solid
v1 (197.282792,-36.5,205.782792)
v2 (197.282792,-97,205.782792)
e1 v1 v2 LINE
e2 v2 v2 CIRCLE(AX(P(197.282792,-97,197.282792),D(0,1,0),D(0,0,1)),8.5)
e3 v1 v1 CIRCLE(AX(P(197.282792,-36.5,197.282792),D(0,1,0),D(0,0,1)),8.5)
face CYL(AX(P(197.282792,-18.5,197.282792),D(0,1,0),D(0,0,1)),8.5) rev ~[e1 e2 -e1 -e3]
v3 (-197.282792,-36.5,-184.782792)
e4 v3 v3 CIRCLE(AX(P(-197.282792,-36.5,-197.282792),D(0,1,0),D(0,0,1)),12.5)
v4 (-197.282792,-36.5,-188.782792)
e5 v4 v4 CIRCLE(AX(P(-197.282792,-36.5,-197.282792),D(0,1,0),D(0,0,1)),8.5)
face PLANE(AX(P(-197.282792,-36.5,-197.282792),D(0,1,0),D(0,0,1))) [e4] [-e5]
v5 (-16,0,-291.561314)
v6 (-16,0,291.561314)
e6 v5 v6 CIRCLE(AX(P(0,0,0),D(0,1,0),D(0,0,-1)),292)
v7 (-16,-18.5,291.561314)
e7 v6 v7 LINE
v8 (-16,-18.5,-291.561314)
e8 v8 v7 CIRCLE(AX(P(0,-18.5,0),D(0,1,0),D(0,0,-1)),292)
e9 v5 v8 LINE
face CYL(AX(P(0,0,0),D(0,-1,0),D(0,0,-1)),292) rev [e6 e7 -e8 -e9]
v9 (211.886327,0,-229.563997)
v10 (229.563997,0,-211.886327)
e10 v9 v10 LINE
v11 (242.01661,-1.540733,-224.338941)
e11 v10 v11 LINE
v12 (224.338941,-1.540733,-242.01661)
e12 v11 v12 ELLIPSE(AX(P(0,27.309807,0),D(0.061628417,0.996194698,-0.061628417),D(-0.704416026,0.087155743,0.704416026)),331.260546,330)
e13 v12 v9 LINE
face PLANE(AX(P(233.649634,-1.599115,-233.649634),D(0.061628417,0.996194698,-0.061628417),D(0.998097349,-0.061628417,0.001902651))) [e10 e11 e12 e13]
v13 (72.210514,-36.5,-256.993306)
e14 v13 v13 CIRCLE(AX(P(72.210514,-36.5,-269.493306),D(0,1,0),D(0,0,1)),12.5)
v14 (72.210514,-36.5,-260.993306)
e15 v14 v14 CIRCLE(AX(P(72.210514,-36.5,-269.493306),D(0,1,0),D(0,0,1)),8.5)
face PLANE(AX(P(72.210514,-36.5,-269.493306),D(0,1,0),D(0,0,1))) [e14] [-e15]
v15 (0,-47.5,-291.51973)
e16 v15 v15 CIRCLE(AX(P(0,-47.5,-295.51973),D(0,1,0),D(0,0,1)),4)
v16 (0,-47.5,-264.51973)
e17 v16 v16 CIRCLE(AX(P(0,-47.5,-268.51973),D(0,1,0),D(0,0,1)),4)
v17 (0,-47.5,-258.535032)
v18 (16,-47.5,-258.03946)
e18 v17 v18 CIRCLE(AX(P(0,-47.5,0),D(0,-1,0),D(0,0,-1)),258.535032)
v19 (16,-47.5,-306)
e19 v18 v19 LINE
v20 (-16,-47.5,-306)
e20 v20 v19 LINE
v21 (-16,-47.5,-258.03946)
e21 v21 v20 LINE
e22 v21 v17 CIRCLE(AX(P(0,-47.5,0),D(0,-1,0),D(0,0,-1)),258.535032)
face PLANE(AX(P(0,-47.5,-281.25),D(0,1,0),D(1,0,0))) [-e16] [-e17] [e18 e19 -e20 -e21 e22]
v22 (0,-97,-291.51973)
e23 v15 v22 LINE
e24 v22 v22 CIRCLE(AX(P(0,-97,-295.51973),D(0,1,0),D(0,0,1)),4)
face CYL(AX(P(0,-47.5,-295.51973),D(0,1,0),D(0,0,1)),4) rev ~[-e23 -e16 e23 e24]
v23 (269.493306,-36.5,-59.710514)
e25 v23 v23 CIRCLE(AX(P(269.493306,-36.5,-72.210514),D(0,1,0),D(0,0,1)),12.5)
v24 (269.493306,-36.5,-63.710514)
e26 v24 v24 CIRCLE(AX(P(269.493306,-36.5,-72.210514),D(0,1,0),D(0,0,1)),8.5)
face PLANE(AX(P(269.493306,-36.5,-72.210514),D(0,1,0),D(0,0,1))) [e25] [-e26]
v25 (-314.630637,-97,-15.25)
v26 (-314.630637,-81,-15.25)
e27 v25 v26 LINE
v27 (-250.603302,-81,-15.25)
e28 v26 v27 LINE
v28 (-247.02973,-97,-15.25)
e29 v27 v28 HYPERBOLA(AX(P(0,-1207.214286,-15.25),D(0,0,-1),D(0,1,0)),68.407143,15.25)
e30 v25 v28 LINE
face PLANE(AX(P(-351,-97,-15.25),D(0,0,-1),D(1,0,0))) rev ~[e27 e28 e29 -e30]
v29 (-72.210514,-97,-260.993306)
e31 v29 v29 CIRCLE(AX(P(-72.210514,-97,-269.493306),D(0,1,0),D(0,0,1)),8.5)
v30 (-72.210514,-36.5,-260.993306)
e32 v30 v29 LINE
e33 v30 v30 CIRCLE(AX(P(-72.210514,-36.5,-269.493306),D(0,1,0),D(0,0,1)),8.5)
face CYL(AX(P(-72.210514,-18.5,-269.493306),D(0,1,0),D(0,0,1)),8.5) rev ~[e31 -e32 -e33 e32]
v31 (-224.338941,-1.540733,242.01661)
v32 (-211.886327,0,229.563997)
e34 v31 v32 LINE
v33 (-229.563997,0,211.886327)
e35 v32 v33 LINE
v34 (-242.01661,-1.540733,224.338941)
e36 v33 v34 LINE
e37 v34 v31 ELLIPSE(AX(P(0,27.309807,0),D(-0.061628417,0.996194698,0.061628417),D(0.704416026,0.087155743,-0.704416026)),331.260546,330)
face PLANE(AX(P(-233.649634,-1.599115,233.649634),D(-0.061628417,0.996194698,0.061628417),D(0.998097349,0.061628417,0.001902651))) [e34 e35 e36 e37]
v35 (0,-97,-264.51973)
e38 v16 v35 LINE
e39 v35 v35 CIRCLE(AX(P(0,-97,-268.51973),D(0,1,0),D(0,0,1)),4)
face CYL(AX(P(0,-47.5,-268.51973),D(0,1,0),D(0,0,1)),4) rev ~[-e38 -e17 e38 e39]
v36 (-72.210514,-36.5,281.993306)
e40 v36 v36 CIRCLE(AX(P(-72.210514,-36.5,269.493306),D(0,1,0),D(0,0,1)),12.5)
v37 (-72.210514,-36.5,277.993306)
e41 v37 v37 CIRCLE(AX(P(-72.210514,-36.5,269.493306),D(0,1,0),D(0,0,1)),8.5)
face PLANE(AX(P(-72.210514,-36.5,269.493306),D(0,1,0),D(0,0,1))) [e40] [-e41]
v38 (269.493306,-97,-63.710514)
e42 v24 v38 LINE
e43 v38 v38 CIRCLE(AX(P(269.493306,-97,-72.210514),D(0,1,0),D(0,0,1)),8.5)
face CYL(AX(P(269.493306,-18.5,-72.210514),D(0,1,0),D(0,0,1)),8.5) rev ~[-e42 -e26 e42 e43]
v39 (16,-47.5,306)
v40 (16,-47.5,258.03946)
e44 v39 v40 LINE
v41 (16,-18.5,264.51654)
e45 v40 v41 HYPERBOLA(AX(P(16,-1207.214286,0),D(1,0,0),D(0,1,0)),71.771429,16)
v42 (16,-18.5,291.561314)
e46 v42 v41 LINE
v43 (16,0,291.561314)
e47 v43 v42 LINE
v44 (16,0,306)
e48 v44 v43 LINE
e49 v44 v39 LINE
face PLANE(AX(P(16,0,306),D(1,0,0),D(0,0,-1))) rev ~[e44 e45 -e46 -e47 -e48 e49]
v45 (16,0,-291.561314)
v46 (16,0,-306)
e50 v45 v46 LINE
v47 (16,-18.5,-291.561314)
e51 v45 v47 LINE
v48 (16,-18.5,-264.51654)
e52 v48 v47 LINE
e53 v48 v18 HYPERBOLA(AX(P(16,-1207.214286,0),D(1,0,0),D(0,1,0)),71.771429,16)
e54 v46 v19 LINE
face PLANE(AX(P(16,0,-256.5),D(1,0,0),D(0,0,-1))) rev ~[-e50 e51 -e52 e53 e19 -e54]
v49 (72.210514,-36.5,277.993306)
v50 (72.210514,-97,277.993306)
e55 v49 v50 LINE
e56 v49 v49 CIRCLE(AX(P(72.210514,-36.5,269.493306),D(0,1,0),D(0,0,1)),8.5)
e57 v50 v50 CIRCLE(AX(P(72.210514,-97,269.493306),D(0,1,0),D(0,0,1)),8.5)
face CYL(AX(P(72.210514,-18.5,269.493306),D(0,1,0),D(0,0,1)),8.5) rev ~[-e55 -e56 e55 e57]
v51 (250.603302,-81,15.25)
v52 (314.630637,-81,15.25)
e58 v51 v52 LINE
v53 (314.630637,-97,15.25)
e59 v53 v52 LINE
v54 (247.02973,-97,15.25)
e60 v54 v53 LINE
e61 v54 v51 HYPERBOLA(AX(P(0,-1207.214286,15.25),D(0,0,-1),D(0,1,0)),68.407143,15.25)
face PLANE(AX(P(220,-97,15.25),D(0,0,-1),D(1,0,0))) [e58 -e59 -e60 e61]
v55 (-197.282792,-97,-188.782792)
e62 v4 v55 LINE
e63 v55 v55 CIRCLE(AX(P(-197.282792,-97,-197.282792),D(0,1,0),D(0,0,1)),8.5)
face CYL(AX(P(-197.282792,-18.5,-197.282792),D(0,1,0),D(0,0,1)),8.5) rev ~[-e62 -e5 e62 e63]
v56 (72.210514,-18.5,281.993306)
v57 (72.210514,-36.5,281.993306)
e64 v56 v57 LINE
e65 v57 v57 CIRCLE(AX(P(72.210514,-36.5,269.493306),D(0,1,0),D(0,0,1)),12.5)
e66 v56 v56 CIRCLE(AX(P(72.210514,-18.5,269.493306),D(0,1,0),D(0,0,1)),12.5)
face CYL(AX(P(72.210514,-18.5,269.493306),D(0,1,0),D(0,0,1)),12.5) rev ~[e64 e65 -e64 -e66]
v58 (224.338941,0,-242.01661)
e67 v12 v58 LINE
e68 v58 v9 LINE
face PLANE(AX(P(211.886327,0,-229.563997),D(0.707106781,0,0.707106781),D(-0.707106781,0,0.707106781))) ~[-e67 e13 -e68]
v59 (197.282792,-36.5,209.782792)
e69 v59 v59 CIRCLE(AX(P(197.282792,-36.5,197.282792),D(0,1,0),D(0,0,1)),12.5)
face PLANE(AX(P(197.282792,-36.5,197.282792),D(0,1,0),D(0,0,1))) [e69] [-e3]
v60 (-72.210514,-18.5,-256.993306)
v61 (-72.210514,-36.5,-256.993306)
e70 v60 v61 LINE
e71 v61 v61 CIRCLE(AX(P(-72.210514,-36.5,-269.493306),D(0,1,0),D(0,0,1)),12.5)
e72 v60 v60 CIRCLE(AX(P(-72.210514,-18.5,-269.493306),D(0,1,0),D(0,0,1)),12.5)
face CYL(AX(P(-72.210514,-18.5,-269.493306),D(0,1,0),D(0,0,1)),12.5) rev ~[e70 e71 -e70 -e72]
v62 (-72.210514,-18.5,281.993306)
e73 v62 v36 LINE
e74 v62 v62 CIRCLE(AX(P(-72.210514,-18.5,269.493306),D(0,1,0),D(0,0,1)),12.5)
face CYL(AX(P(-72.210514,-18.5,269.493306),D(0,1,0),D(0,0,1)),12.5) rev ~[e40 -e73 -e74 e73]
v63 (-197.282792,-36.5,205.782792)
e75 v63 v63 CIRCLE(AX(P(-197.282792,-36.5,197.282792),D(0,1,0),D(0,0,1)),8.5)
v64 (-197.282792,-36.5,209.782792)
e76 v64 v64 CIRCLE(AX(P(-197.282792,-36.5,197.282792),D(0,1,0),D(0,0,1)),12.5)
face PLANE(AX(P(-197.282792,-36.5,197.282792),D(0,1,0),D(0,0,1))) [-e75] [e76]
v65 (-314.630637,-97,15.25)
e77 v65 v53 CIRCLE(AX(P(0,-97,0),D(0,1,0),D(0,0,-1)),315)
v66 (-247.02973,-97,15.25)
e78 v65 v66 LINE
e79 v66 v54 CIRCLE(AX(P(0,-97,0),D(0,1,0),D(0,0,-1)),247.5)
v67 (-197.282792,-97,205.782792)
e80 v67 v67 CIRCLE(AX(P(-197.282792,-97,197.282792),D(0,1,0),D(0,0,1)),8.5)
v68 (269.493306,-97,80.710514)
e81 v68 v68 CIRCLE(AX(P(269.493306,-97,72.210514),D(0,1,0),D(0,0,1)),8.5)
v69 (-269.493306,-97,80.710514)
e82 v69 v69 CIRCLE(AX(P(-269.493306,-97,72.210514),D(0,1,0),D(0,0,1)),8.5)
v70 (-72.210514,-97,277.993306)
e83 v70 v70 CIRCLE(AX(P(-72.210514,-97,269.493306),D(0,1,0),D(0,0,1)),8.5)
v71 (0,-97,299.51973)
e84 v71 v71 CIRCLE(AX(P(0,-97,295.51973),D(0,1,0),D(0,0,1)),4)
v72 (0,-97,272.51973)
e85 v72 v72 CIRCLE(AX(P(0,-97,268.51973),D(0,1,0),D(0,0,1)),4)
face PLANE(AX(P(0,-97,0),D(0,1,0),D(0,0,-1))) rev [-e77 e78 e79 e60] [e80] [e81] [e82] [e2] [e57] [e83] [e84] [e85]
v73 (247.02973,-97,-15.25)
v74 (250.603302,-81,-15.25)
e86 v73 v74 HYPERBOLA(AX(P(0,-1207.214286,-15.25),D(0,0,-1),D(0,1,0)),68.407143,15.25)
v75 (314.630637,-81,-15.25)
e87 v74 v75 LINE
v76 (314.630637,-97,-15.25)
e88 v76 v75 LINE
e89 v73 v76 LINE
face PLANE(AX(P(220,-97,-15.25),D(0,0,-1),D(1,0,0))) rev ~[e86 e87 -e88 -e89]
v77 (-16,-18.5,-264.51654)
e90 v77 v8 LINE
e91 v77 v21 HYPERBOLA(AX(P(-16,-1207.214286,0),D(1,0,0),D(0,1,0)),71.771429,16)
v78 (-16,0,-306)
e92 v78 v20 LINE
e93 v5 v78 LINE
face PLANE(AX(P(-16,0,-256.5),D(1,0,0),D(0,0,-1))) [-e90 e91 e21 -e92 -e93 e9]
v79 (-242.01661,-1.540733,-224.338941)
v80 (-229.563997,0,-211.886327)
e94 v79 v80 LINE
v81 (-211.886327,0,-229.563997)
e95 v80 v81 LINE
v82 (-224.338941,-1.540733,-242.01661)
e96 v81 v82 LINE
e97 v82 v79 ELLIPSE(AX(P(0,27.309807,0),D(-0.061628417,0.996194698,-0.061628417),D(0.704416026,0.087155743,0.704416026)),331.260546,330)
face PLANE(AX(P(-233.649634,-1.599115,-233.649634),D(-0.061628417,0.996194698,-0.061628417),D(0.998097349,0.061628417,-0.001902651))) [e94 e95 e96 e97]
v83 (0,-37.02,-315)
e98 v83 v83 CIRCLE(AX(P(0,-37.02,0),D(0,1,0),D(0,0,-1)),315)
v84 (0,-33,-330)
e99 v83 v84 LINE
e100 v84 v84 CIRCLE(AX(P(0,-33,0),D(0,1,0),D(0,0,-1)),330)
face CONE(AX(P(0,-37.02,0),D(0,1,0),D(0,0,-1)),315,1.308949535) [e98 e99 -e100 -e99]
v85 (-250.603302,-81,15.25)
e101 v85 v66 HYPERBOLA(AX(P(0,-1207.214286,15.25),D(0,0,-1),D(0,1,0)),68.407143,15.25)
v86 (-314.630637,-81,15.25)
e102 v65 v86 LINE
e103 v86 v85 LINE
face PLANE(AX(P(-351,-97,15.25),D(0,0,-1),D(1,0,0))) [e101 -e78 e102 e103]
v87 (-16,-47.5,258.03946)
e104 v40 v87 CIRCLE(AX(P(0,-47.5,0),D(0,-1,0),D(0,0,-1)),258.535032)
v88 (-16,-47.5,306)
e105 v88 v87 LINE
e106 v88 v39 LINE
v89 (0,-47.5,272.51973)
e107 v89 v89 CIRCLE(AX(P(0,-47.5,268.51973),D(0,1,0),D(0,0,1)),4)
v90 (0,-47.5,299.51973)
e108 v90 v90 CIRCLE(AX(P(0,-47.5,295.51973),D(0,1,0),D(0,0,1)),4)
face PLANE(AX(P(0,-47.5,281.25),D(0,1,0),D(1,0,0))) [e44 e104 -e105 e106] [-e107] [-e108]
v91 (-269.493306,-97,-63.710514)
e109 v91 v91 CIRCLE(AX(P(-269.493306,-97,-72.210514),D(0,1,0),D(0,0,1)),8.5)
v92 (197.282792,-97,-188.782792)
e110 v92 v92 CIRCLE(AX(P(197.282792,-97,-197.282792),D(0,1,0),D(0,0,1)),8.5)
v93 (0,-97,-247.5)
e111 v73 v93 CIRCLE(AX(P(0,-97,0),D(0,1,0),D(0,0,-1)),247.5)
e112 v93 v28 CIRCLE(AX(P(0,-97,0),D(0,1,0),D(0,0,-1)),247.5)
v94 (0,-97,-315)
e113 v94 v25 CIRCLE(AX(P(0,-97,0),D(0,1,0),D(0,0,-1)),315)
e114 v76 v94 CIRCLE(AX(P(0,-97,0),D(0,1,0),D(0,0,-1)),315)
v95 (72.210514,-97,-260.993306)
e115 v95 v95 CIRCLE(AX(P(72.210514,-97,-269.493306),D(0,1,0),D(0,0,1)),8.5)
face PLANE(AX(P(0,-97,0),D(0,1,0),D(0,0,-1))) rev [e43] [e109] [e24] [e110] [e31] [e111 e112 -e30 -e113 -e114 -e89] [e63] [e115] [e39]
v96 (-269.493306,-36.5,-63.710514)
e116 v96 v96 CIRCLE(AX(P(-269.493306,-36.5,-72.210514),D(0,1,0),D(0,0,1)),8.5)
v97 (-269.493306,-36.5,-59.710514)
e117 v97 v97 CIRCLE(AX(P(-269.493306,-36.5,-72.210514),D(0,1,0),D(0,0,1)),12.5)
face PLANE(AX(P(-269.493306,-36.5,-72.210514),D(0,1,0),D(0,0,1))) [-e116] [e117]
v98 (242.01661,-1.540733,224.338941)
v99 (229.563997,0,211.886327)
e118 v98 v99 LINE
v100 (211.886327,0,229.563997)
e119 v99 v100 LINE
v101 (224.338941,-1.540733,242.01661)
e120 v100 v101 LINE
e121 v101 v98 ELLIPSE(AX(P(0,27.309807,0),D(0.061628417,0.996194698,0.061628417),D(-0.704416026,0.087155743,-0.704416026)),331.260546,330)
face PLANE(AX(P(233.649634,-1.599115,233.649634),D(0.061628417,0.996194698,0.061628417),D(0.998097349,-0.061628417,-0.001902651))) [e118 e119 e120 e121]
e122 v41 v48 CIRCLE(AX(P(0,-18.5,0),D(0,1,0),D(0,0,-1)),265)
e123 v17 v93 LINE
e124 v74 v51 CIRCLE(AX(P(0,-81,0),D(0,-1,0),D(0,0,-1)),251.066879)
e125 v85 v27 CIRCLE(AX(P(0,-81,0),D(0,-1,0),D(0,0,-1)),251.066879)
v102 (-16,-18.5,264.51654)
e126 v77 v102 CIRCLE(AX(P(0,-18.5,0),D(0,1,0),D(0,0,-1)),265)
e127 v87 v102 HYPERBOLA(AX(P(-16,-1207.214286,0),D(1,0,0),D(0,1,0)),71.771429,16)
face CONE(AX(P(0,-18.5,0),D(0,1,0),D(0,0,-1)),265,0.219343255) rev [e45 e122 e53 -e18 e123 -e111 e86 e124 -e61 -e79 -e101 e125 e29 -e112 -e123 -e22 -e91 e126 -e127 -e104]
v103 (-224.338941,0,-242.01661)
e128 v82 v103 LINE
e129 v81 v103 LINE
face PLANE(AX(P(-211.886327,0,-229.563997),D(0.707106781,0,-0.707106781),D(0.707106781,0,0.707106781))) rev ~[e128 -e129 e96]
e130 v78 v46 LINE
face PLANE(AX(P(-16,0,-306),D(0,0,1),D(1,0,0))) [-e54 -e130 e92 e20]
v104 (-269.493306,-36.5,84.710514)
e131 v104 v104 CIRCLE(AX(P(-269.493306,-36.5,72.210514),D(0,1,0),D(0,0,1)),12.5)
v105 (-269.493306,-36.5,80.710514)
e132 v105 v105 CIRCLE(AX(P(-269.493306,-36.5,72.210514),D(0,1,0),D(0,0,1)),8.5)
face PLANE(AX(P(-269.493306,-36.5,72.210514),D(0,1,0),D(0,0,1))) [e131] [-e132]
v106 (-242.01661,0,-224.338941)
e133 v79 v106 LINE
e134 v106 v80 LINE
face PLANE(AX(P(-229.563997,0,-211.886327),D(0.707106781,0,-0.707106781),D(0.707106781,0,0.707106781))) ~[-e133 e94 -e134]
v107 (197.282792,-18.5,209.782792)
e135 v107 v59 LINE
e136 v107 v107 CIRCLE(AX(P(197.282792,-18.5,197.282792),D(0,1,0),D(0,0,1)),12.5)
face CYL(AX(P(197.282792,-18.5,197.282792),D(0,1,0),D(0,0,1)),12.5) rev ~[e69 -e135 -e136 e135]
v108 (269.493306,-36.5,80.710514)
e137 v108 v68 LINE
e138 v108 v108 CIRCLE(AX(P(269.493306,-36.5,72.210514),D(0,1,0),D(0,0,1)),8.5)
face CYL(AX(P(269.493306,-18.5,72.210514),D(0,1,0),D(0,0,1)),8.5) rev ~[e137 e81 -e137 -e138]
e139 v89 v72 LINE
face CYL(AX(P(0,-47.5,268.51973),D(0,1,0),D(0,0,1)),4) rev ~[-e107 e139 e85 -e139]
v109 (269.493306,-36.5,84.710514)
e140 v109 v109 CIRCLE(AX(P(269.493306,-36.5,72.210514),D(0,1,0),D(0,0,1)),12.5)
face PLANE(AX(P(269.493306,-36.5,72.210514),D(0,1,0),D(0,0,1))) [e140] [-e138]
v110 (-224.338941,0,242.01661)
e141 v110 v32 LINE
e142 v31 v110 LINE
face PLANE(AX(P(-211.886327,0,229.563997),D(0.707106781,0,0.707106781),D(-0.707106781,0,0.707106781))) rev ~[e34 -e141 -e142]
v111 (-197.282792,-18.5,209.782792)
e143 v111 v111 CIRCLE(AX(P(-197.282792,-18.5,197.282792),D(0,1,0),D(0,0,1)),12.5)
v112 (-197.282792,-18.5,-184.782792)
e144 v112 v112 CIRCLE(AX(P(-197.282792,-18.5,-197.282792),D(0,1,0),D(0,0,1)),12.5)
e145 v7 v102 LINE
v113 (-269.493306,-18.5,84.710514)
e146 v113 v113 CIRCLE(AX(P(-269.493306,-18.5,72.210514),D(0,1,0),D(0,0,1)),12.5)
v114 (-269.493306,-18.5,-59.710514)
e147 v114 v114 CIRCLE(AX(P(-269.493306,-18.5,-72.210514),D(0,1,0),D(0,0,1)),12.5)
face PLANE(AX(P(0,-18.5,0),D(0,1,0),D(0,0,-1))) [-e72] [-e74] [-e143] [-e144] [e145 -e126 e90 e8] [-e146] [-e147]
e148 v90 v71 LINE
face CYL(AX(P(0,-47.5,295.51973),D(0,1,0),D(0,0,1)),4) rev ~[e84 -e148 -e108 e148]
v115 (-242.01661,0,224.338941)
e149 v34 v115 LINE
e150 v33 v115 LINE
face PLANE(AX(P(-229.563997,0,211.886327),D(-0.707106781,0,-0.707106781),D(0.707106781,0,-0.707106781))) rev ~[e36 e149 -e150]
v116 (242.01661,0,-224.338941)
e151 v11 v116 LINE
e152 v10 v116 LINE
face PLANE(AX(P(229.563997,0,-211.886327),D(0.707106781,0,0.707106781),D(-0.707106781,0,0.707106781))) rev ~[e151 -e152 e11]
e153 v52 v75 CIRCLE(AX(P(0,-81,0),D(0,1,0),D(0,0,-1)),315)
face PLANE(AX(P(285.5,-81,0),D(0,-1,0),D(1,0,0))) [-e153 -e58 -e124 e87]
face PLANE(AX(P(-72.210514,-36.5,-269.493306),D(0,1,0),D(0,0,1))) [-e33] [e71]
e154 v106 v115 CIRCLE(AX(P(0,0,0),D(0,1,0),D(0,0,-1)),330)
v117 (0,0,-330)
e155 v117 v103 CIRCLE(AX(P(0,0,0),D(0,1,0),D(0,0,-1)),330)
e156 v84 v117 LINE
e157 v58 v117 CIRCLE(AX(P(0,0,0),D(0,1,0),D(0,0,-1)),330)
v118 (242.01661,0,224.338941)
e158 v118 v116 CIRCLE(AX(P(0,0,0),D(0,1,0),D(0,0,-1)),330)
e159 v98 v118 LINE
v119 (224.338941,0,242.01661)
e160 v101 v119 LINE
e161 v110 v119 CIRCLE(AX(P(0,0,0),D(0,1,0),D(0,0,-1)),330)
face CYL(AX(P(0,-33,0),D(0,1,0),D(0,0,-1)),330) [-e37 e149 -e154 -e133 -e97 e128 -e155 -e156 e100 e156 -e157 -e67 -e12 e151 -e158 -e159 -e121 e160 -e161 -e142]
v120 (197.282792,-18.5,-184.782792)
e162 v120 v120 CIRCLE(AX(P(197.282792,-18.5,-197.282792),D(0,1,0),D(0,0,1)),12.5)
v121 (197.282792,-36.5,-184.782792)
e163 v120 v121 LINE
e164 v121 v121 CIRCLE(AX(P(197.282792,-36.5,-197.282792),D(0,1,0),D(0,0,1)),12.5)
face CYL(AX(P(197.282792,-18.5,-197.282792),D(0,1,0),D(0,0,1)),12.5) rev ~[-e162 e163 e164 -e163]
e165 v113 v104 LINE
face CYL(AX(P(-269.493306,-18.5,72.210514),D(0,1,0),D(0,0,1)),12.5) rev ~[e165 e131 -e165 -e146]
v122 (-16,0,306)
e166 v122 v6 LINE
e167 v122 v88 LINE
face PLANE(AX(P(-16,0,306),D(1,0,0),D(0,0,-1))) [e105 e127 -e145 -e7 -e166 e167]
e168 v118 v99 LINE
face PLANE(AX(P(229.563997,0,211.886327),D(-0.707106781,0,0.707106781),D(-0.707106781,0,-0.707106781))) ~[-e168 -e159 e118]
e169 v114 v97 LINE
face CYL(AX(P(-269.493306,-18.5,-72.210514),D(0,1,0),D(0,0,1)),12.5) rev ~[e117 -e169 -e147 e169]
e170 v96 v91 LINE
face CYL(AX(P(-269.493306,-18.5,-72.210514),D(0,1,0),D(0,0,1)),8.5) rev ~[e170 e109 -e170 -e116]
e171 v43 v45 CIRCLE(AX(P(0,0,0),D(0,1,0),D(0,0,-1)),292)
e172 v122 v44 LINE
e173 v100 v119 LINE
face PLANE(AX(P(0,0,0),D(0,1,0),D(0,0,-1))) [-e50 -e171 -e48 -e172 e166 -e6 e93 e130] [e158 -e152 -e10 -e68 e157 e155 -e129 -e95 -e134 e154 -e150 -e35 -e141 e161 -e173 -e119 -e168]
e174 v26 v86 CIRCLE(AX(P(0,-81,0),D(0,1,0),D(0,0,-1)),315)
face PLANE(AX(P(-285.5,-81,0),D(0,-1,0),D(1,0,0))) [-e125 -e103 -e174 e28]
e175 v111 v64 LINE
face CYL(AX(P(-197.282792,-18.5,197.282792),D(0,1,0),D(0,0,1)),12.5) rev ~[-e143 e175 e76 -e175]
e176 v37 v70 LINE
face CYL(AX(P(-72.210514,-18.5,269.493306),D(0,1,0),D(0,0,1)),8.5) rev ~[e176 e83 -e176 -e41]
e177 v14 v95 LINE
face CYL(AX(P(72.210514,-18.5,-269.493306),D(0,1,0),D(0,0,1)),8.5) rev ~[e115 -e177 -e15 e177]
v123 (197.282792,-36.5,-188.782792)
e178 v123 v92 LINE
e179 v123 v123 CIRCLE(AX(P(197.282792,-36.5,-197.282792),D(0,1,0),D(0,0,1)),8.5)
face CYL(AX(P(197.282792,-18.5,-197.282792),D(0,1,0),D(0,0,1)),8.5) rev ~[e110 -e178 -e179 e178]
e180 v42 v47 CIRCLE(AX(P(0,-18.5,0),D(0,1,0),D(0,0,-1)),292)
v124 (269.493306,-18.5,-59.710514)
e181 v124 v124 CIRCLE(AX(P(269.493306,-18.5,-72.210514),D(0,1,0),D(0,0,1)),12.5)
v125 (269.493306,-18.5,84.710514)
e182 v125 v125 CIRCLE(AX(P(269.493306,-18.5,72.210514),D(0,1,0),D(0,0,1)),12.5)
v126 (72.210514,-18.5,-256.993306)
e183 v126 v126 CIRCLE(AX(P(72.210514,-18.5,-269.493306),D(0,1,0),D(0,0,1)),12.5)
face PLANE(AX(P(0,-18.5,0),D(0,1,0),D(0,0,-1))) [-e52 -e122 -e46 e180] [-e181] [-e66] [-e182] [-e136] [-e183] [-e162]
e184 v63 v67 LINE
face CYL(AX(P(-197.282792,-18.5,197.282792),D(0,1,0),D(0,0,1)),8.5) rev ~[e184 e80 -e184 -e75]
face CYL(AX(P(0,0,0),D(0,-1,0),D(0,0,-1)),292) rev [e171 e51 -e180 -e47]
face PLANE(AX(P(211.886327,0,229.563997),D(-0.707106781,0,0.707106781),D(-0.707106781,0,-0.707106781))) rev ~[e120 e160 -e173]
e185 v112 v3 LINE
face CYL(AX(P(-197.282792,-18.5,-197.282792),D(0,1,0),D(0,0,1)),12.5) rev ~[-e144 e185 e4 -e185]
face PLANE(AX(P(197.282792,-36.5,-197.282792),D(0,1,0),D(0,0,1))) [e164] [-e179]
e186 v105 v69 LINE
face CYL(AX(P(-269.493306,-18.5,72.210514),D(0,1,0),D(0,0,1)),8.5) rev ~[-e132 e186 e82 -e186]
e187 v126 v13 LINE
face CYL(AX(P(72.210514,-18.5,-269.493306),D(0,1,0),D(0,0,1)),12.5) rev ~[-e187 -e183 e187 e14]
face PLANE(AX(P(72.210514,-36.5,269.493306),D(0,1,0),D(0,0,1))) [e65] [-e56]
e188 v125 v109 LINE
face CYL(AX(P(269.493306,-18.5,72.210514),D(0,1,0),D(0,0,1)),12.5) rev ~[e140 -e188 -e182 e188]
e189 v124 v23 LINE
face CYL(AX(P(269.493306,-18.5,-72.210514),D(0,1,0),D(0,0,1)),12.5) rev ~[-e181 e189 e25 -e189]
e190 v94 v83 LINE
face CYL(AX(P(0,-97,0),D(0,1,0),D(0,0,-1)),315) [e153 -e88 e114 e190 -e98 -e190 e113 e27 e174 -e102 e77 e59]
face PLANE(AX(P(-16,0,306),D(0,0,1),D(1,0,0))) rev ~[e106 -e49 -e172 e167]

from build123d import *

# Parameters (mm, degrees)
CUT_EXTRUDE_1_REACH = 475.247
SKETCH_2_R          = 8.5
SKETCH_3_R          = 12.5
CUT_EXTRUDE_2_DEPTH = 18
SKETCH_4_W          = 32
SKETCH_4_H          = 49.5
CUT_EXTRUDE_3_DEPTH = 47.5
CUT_EXTRUDE_4_REACH = 471.308
SKETCH_7_R          = 4
SKETCH_8_W          = 131
SKETCH_8_H          = 30.5
CUT_EXTRUDE_5_DEPTH = 16
CUT_REVOLVE_1_ANGLE = 5
CUT_REVOLVE_3_ANGLE = 5
CUT_REVOLVE_4_ANGLE = 5
CUT_REVOLVE_5_ANGLE = 5


with BuildPart() as part:
    # 草图1 → 旋转1 (revolve)
    with BuildSketch(Plane.XY):
        Polygon((-330, 0), (-292, 0), (-292, -18.5), (-265, -18.5), (-247.5, -97), (-315, -97), (-315, -37.02), (-330, -33), align=None)
    revolve(axis=Axis((0, 0, 0), (0, 1, 0)))

    # 草图2 → 切除-拉伸1 (cut, up to next)
    with BuildSketch(Plane(origin=(0, -18.5, 0), x_dir=(1, 0, 0), z_dir=(0, 1, 0)), mode=Mode.PRIVATE) as cut_extrude_1_sk1:
        with Locations((-72.210513584, 269.493305535)):
            Circle(SKETCH_2_R)
    cut_extrude_1_tool1 = extrude(cut_extrude_1_sk1.sketch, amount=-CUT_EXTRUDE_1_REACH, mode=Mode.PRIVATE) & part.part
    # 草图2 → 切除-拉伸1 (cut, up to next)
    with BuildSketch(Plane(origin=(0, -18.5, 0), x_dir=(1, 0, 0), z_dir=(0, 1, 0)), mode=Mode.PRIVATE) as cut_extrude_1_sk2:
        with Locations((72.210513584, 269.493305535)):
            Circle(SKETCH_2_R)
    cut_extrude_1_tool2 = extrude(cut_extrude_1_sk2.sketch, amount=-CUT_EXTRUDE_1_REACH, mode=Mode.PRIVATE) & part.part
    # 草图2 → 切除-拉伸1 (cut, up to next)
    with BuildSketch(Plane(origin=(0, -18.5, 0), x_dir=(1, 0, 0), z_dir=(0, 1, 0)), mode=Mode.PRIVATE) as cut_extrude_1_sk3:
        with Locations((197.282791951, 197.282791951)):
            Circle(SKETCH_2_R)
    cut_extrude_1_tool3 = extrude(cut_extrude_1_sk3.sketch, amount=-CUT_EXTRUDE_1_REACH, mode=Mode.PRIVATE) & part.part
    # 草图2 → 切除-拉伸1 (cut, up to next)
    with BuildSketch(Plane(origin=(0, -18.5, 0), x_dir=(1, 0, 0), z_dir=(0, 1, 0)), mode=Mode.PRIVATE) as cut_extrude_1_sk4:
        with Locations((269.493305535, 72.210513584)):
            Circle(SKETCH_2_R)
    cut_extrude_1_tool4 = extrude(cut_extrude_1_sk4.sketch, amount=-CUT_EXTRUDE_1_REACH, mode=Mode.PRIVATE) & part.part
    # 草图2 → 切除-拉伸1 (cut, up to next)
    with BuildSketch(Plane(origin=(0, -18.5, 0), x_dir=(1, 0, 0), z_dir=(0, 1, 0)), mode=Mode.PRIVATE) as cut_extrude_1_sk5:
        with Locations((269.493305535, -72.210513584)):
            Circle(SKETCH_2_R)
    cut_extrude_1_tool5 = extrude(cut_extrude_1_sk5.sketch, amount=-CUT_EXTRUDE_1_REACH, mode=Mode.PRIVATE) & part.part
    # 草图2 → 切除-拉伸1 (cut, up to next)
    with BuildSketch(Plane(origin=(0, -18.5, 0), x_dir=(1, 0, 0), z_dir=(0, 1, 0)), mode=Mode.PRIVATE) as cut_extrude_1_sk6:
        with Locations((197.282791951, -197.282791951)):
            Circle(SKETCH_2_R)
    cut_extrude_1_tool6 = extrude(cut_extrude_1_sk6.sketch, amount=-CUT_EXTRUDE_1_REACH, mode=Mode.PRIVATE) & part.part
    # 草图2 → 切除-拉伸1 (cut, up to next)
    with BuildSketch(Plane(origin=(0, -18.5, 0), x_dir=(1, 0, 0), z_dir=(0, 1, 0)), mode=Mode.PRIVATE) as cut_extrude_1_sk7:
        with Locations((72.210513584, -269.493305535)):
            Circle(SKETCH_2_R)
    cut_extrude_1_tool7 = extrude(cut_extrude_1_sk7.sketch, amount=-CUT_EXTRUDE_1_REACH, mode=Mode.PRIVATE) & part.part
    # 草图2 → 切除-拉伸1 (cut, up to next)
    with BuildSketch(Plane(origin=(0, -18.5, 0), x_dir=(1, 0, 0), z_dir=(0, 1, 0)), mode=Mode.PRIVATE) as cut_extrude_1_sk8:
        with Locations((-72.210513584, -269.493305535)):
            Circle(SKETCH_2_R)
    cut_extrude_1_tool8 = extrude(cut_extrude_1_sk8.sketch, amount=-CUT_EXTRUDE_1_REACH, mode=Mode.PRIVATE) & part.part
    # 草图2 → 切除-拉伸1 (cut, up to next)
    with BuildSketch(Plane(origin=(0, -18.5, 0), x_dir=(1, 0, 0), z_dir=(0, 1, 0)), mode=Mode.PRIVATE) as cut_extrude_1_sk9:
        with Locations((-197.282791951, -197.282791951)):
            Circle(SKETCH_2_R)
    cut_extrude_1_tool9 = extrude(cut_extrude_1_sk9.sketch, amount=-CUT_EXTRUDE_1_REACH, mode=Mode.PRIVATE) & part.part
    # 草图2 → 切除-拉伸1 (cut, up to next)
    with BuildSketch(Plane(origin=(0, -18.5, 0), x_dir=(1, 0, 0), z_dir=(0, 1, 0)), mode=Mode.PRIVATE) as cut_extrude_1_sk10:
        with Locations((-269.493305535, -72.210513584)):
            Circle(SKETCH_2_R)
    cut_extrude_1_tool10 = extrude(cut_extrude_1_sk10.sketch, amount=-CUT_EXTRUDE_1_REACH, mode=Mode.PRIVATE) & part.part
    # 草图2 → 切除-拉伸1 (cut, up to next)
    with BuildSketch(Plane(origin=(0, -18.5, 0), x_dir=(1, 0, 0), z_dir=(0, 1, 0)), mode=Mode.PRIVATE) as cut_extrude_1_sk11:
        with Locations((-269.493305535, 72.210513584)):
            Circle(SKETCH_2_R)
    cut_extrude_1_tool11 = extrude(cut_extrude_1_sk11.sketch, amount=-CUT_EXTRUDE_1_REACH, mode=Mode.PRIVATE) & part.part
    # 草图2 → 切除-拉伸1 (cut, up to next)
    with BuildSketch(Plane(origin=(0, -18.5, 0), x_dir=(1, 0, 0), z_dir=(0, 1, 0)), mode=Mode.PRIVATE) as cut_extrude_1_sk12:
        with Locations((-197.282791951, 197.282791951)):
            Circle(SKETCH_2_R)
    cut_extrude_1_tool12 = extrude(cut_extrude_1_sk12.sketch, amount=-CUT_EXTRUDE_1_REACH, mode=Mode.PRIVATE) & part.part
    add(cut_extrude_1_tool1.solids().sort_by_distance((-72.210514, -18.5, -269.493306))[0], mode=Mode.SUBTRACT)
    add(cut_extrude_1_tool2.solids().sort_by_distance((72.210514, -18.5, -269.493306))[0], mode=Mode.SUBTRACT)
    add(cut_extrude_1_tool3.solids().sort_by_distance((197.282792, -18.5, -197.282792))[0], mode=Mode.SUBTRACT)
    add(cut_extrude_1_tool4.solids().sort_by_distance((269.493306, -18.5, -72.210514))[0], mode=Mode.SUBTRACT)
    add(cut_extrude_1_tool5.solids().sort_by_distance((269.493306, -18.5, 72.210514))[0], mode=Mode.SUBTRACT)
    add(cut_extrude_1_tool6.solids().sort_by_distance((197.282792, -18.5, 197.282792))[0], mode=Mode.SUBTRACT)
    add(cut_extrude_1_tool7.solids().sort_by_distance((72.210514, -18.5, 269.493306))[0], mode=Mode.SUBTRACT)
    add(cut_extrude_1_tool8.solids().sort_by_distance((-72.210514, -18.5, 269.493306))[0], mode=Mode.SUBTRACT)
    add(cut_extrude_1_tool9.solids().sort_by_distance((-197.282792, -18.5, 197.282792))[0], mode=Mode.SUBTRACT)
    add(cut_extrude_1_tool10.solids().sort_by_distance((-269.493306, -18.5, 72.210514))[0], mode=Mode.SUBTRACT)
    add(cut_extrude_1_tool11.solids().sort_by_distance((-269.493306, -18.5, -72.210514))[0], mode=Mode.SUBTRACT)
    add(cut_extrude_1_tool12.solids().sort_by_distance((-197.282792, -18.5, -197.282792))[0], mode=Mode.SUBTRACT)

    # 草图3 → 切除-拉伸2 (cut)
    with BuildSketch(Plane(origin=(0, -18.5, 0), x_dir=(1, 0, 0), z_dir=(0, 1, 0))):
        with Locations((-72.210513584, 269.493305535)):
            Circle(SKETCH_3_R)
        with Locations((72.210513584, 269.493305535)):
            Circle(SKETCH_3_R)
        with Locations((197.282791951, 197.282791951)):
            Circle(SKETCH_3_R)
        with Locations((269.493305535, 72.210513584)):
            Circle(SKETCH_3_R)
        with Locations((269.493305535, -72.210513584)):
            Circle(SKETCH_3_R)
        with Locations((197.282791951, -197.282791951)):
            Circle(SKETCH_3_R)
        with Locations((72.210513584, -269.493305535)):
            Circle(SKETCH_3_R)
        with Locations((-72.210513584, -269.493305535)):
            Circle(SKETCH_3_R)
        with Locations((-197.282791951, -197.282791951)):
            Circle(SKETCH_3_R)
        with Locations((-269.493305535, -72.210513584)):
            Circle(SKETCH_3_R)
        with Locations((-269.493305535, 72.210513584)):
            Circle(SKETCH_3_R)
        with Locations((-197.282791951, 197.282791951)):
            Circle(SKETCH_3_R)
    extrude(amount=-CUT_EXTRUDE_2_DEPTH, mode=Mode.SUBTRACT)

    # 草图4 → 切除-拉伸3 (cut)
    with BuildSketch(Plane(origin=(0, 0, 0), x_dir=(1, 0, 0), z_dir=(0, 1, 0))):
        with Locations((0, 281.25)):
            Rectangle(SKETCH_4_W, SKETCH_4_H)
        with Locations((0, -281.25)):
            Rectangle(SKETCH_4_W, SKETCH_4_H)
    extrude(amount=-CUT_EXTRUDE_3_DEPTH, mode=Mode.SUBTRACT)

    # 草图7 → 切除-拉伸4 (cut, up to next)
    with BuildSketch(Plane(origin=(0, -47.5, 0), x_dir=(1, 0, 0), z_dir=(0, 1, 0)), mode=Mode.PRIVATE) as cut_extrude_4_sk1:
        with Locations((0, 295.519729782)):
            Circle(SKETCH_7_R)
    cut_extrude_4_tool1 = extrude(cut_extrude_4_sk1.sketch, amount=-CUT_EXTRUDE_4_REACH, mode=Mode.PRIVATE) & part.part
    # 草图7 → 切除-拉伸4 (cut, up to next)
    with BuildSketch(Plane(origin=(0, -47.5, 0), x_dir=(1, 0, 0), z_dir=(0, 1, 0)), mode=Mode.PRIVATE) as cut_extrude_4_sk2:
        with Locations((0, 268.519729782)):
            Circle(SKETCH_7_R)
    cut_extrude_4_tool2 = extrude(cut_extrude_4_sk2.sketch, amount=-CUT_EXTRUDE_4_REACH, mode=Mode.PRIVATE) & part.part
    # 草图7 → 切除-拉伸4 (cut, up to next)
    with BuildSketch(Plane(origin=(0, -47.5, 0), x_dir=(1, 0, 0), z_dir=(0, 1, 0)), mode=Mode.PRIVATE) as cut_extrude_4_sk3:
        with Locations((0, -268.519729782)):
            Circle(SKETCH_7_R)
    cut_extrude_4_tool3 = extrude(cut_extrude_4_sk3.sketch, amount=-CUT_EXTRUDE_4_REACH, mode=Mode.PRIVATE) & part.part
    # 草图7 → 切除-拉伸4 (cut, up to next)
    with BuildSketch(Plane(origin=(0, -47.5, 0), x_dir=(1, 0, 0), z_dir=(0, 1, 0)), mode=Mode.PRIVATE) as cut_extrude_4_sk4:
        with Locations((0, -295.519729782)):
            Circle(SKETCH_7_R)
    cut_extrude_4_tool4 = extrude(cut_extrude_4_sk4.sketch, amount=-CUT_EXTRUDE_4_REACH, mode=Mode.PRIVATE) & part.part
    add(cut_extrude_4_tool1.solids().sort_by_distance((0, -47.5, -295.51973))[0], mode=Mode.SUBTRACT)
    add(cut_extrude_4_tool2.solids().sort_by_distance((0, -47.5, -268.51973))[0], mode=Mode.SUBTRACT)
    add(cut_extrude_4_tool3.solids().sort_by_distance((0, -47.5, 268.51973))[0], mode=Mode.SUBTRACT)
    add(cut_extrude_4_tool4.solids().sort_by_distance((0, -47.5, 295.51973))[0], mode=Mode.SUBTRACT)

    # 草图8 → 切除-拉伸5 (cut)
    with BuildSketch(Plane.XZ.offset(97)):
        with Locations((285.5, 0)):
            Rectangle(SKETCH_8_W, SKETCH_8_H)
        with Locations((-285.5, 0)):
            Rectangle(SKETCH_8_W, SKETCH_8_H)
    extrude(amount=-CUT_EXTRUDE_5_DEPTH, mode=Mode.SUBTRACT)

    # 草图9 → 切除-旋转1 (revolve, cut)
    with BuildSketch(Plane(origin=(0, 0, 0), x_dir=(1, 0, 0), z_dir=(0, 1, 0))):
        Polygon((-237.834010658, 255.511680188), (-255.511680188, 237.834010658), (-229.563996686, 211.886327157), (-211.886327157, 229.563996686), align=None)
    revolve(axis=Axis((-211.886327157, 0, -229.563996686), (-0.7071067811865481, 0, 0.707106781186547)), revolution_arc=CUT_REVOLVE_1_ANGLE, mode=Mode.SUBTRACT)

    # 草图9<3> → 切除-旋转3 (revolve, cut)
    with BuildSketch(Plane(origin=(0, 0, 0), x_dir=(1, 0, 0), z_dir=(0, 1, 0))):
        Polygon((255.511680188, 237.834010658), (237.834010658, 255.511680188), (211.886327157, 229.563996686), (229.563996686, 211.886327157), align=None)
    revolve(axis=Axis((229.563996686, 0, -211.886327157), (-0.7071067811865481, 0, -0.707106781186547)), revolution_arc=CUT_REVOLVE_3_ANGLE, mode=Mode.SUBTRACT)

    # 草图9<4> → 切除-旋转4 (revolve, cut)
    with BuildSketch(Plane(origin=(0, 0, 0), x_dir=(1, 0, 0), z_dir=(0, 1, 0))):
        Polygon((237.834010658, -255.511680188), (255.511680188, -237.834010658), (229.563996686, -211.886327156), (211.886327157, -229.563996686), align=None)
    revolve(axis=Axis((211.886327157, 0, 229.563996686), (0.7071067811865481, 0, -0.707106781186547)), revolution_arc=CUT_REVOLVE_4_ANGLE, mode=Mode.SUBTRACT)

    # 草图9<5> → 切除-旋转5 (revolve, cut)
    with BuildSketch(Plane(origin=(0, 0, 0), x_dir=(1, 0, 0), z_dir=(0, 1, 0))):
        Polygon((-255.511680188, -237.834010658), (-237.834010658, -255.511680188), (-211.886327156, -229.563996686), (-229.563996686, -211.886327157), align=None)
    revolve(axis=Axis((-229.563996686, 0, 211.886327157), (0.7071067811865481, 0, 0.707106781186547)), revolution_arc=CUT_REVOLVE_5_ANGLE, mode=Mode.SUBTRACT)


solid = part.part
